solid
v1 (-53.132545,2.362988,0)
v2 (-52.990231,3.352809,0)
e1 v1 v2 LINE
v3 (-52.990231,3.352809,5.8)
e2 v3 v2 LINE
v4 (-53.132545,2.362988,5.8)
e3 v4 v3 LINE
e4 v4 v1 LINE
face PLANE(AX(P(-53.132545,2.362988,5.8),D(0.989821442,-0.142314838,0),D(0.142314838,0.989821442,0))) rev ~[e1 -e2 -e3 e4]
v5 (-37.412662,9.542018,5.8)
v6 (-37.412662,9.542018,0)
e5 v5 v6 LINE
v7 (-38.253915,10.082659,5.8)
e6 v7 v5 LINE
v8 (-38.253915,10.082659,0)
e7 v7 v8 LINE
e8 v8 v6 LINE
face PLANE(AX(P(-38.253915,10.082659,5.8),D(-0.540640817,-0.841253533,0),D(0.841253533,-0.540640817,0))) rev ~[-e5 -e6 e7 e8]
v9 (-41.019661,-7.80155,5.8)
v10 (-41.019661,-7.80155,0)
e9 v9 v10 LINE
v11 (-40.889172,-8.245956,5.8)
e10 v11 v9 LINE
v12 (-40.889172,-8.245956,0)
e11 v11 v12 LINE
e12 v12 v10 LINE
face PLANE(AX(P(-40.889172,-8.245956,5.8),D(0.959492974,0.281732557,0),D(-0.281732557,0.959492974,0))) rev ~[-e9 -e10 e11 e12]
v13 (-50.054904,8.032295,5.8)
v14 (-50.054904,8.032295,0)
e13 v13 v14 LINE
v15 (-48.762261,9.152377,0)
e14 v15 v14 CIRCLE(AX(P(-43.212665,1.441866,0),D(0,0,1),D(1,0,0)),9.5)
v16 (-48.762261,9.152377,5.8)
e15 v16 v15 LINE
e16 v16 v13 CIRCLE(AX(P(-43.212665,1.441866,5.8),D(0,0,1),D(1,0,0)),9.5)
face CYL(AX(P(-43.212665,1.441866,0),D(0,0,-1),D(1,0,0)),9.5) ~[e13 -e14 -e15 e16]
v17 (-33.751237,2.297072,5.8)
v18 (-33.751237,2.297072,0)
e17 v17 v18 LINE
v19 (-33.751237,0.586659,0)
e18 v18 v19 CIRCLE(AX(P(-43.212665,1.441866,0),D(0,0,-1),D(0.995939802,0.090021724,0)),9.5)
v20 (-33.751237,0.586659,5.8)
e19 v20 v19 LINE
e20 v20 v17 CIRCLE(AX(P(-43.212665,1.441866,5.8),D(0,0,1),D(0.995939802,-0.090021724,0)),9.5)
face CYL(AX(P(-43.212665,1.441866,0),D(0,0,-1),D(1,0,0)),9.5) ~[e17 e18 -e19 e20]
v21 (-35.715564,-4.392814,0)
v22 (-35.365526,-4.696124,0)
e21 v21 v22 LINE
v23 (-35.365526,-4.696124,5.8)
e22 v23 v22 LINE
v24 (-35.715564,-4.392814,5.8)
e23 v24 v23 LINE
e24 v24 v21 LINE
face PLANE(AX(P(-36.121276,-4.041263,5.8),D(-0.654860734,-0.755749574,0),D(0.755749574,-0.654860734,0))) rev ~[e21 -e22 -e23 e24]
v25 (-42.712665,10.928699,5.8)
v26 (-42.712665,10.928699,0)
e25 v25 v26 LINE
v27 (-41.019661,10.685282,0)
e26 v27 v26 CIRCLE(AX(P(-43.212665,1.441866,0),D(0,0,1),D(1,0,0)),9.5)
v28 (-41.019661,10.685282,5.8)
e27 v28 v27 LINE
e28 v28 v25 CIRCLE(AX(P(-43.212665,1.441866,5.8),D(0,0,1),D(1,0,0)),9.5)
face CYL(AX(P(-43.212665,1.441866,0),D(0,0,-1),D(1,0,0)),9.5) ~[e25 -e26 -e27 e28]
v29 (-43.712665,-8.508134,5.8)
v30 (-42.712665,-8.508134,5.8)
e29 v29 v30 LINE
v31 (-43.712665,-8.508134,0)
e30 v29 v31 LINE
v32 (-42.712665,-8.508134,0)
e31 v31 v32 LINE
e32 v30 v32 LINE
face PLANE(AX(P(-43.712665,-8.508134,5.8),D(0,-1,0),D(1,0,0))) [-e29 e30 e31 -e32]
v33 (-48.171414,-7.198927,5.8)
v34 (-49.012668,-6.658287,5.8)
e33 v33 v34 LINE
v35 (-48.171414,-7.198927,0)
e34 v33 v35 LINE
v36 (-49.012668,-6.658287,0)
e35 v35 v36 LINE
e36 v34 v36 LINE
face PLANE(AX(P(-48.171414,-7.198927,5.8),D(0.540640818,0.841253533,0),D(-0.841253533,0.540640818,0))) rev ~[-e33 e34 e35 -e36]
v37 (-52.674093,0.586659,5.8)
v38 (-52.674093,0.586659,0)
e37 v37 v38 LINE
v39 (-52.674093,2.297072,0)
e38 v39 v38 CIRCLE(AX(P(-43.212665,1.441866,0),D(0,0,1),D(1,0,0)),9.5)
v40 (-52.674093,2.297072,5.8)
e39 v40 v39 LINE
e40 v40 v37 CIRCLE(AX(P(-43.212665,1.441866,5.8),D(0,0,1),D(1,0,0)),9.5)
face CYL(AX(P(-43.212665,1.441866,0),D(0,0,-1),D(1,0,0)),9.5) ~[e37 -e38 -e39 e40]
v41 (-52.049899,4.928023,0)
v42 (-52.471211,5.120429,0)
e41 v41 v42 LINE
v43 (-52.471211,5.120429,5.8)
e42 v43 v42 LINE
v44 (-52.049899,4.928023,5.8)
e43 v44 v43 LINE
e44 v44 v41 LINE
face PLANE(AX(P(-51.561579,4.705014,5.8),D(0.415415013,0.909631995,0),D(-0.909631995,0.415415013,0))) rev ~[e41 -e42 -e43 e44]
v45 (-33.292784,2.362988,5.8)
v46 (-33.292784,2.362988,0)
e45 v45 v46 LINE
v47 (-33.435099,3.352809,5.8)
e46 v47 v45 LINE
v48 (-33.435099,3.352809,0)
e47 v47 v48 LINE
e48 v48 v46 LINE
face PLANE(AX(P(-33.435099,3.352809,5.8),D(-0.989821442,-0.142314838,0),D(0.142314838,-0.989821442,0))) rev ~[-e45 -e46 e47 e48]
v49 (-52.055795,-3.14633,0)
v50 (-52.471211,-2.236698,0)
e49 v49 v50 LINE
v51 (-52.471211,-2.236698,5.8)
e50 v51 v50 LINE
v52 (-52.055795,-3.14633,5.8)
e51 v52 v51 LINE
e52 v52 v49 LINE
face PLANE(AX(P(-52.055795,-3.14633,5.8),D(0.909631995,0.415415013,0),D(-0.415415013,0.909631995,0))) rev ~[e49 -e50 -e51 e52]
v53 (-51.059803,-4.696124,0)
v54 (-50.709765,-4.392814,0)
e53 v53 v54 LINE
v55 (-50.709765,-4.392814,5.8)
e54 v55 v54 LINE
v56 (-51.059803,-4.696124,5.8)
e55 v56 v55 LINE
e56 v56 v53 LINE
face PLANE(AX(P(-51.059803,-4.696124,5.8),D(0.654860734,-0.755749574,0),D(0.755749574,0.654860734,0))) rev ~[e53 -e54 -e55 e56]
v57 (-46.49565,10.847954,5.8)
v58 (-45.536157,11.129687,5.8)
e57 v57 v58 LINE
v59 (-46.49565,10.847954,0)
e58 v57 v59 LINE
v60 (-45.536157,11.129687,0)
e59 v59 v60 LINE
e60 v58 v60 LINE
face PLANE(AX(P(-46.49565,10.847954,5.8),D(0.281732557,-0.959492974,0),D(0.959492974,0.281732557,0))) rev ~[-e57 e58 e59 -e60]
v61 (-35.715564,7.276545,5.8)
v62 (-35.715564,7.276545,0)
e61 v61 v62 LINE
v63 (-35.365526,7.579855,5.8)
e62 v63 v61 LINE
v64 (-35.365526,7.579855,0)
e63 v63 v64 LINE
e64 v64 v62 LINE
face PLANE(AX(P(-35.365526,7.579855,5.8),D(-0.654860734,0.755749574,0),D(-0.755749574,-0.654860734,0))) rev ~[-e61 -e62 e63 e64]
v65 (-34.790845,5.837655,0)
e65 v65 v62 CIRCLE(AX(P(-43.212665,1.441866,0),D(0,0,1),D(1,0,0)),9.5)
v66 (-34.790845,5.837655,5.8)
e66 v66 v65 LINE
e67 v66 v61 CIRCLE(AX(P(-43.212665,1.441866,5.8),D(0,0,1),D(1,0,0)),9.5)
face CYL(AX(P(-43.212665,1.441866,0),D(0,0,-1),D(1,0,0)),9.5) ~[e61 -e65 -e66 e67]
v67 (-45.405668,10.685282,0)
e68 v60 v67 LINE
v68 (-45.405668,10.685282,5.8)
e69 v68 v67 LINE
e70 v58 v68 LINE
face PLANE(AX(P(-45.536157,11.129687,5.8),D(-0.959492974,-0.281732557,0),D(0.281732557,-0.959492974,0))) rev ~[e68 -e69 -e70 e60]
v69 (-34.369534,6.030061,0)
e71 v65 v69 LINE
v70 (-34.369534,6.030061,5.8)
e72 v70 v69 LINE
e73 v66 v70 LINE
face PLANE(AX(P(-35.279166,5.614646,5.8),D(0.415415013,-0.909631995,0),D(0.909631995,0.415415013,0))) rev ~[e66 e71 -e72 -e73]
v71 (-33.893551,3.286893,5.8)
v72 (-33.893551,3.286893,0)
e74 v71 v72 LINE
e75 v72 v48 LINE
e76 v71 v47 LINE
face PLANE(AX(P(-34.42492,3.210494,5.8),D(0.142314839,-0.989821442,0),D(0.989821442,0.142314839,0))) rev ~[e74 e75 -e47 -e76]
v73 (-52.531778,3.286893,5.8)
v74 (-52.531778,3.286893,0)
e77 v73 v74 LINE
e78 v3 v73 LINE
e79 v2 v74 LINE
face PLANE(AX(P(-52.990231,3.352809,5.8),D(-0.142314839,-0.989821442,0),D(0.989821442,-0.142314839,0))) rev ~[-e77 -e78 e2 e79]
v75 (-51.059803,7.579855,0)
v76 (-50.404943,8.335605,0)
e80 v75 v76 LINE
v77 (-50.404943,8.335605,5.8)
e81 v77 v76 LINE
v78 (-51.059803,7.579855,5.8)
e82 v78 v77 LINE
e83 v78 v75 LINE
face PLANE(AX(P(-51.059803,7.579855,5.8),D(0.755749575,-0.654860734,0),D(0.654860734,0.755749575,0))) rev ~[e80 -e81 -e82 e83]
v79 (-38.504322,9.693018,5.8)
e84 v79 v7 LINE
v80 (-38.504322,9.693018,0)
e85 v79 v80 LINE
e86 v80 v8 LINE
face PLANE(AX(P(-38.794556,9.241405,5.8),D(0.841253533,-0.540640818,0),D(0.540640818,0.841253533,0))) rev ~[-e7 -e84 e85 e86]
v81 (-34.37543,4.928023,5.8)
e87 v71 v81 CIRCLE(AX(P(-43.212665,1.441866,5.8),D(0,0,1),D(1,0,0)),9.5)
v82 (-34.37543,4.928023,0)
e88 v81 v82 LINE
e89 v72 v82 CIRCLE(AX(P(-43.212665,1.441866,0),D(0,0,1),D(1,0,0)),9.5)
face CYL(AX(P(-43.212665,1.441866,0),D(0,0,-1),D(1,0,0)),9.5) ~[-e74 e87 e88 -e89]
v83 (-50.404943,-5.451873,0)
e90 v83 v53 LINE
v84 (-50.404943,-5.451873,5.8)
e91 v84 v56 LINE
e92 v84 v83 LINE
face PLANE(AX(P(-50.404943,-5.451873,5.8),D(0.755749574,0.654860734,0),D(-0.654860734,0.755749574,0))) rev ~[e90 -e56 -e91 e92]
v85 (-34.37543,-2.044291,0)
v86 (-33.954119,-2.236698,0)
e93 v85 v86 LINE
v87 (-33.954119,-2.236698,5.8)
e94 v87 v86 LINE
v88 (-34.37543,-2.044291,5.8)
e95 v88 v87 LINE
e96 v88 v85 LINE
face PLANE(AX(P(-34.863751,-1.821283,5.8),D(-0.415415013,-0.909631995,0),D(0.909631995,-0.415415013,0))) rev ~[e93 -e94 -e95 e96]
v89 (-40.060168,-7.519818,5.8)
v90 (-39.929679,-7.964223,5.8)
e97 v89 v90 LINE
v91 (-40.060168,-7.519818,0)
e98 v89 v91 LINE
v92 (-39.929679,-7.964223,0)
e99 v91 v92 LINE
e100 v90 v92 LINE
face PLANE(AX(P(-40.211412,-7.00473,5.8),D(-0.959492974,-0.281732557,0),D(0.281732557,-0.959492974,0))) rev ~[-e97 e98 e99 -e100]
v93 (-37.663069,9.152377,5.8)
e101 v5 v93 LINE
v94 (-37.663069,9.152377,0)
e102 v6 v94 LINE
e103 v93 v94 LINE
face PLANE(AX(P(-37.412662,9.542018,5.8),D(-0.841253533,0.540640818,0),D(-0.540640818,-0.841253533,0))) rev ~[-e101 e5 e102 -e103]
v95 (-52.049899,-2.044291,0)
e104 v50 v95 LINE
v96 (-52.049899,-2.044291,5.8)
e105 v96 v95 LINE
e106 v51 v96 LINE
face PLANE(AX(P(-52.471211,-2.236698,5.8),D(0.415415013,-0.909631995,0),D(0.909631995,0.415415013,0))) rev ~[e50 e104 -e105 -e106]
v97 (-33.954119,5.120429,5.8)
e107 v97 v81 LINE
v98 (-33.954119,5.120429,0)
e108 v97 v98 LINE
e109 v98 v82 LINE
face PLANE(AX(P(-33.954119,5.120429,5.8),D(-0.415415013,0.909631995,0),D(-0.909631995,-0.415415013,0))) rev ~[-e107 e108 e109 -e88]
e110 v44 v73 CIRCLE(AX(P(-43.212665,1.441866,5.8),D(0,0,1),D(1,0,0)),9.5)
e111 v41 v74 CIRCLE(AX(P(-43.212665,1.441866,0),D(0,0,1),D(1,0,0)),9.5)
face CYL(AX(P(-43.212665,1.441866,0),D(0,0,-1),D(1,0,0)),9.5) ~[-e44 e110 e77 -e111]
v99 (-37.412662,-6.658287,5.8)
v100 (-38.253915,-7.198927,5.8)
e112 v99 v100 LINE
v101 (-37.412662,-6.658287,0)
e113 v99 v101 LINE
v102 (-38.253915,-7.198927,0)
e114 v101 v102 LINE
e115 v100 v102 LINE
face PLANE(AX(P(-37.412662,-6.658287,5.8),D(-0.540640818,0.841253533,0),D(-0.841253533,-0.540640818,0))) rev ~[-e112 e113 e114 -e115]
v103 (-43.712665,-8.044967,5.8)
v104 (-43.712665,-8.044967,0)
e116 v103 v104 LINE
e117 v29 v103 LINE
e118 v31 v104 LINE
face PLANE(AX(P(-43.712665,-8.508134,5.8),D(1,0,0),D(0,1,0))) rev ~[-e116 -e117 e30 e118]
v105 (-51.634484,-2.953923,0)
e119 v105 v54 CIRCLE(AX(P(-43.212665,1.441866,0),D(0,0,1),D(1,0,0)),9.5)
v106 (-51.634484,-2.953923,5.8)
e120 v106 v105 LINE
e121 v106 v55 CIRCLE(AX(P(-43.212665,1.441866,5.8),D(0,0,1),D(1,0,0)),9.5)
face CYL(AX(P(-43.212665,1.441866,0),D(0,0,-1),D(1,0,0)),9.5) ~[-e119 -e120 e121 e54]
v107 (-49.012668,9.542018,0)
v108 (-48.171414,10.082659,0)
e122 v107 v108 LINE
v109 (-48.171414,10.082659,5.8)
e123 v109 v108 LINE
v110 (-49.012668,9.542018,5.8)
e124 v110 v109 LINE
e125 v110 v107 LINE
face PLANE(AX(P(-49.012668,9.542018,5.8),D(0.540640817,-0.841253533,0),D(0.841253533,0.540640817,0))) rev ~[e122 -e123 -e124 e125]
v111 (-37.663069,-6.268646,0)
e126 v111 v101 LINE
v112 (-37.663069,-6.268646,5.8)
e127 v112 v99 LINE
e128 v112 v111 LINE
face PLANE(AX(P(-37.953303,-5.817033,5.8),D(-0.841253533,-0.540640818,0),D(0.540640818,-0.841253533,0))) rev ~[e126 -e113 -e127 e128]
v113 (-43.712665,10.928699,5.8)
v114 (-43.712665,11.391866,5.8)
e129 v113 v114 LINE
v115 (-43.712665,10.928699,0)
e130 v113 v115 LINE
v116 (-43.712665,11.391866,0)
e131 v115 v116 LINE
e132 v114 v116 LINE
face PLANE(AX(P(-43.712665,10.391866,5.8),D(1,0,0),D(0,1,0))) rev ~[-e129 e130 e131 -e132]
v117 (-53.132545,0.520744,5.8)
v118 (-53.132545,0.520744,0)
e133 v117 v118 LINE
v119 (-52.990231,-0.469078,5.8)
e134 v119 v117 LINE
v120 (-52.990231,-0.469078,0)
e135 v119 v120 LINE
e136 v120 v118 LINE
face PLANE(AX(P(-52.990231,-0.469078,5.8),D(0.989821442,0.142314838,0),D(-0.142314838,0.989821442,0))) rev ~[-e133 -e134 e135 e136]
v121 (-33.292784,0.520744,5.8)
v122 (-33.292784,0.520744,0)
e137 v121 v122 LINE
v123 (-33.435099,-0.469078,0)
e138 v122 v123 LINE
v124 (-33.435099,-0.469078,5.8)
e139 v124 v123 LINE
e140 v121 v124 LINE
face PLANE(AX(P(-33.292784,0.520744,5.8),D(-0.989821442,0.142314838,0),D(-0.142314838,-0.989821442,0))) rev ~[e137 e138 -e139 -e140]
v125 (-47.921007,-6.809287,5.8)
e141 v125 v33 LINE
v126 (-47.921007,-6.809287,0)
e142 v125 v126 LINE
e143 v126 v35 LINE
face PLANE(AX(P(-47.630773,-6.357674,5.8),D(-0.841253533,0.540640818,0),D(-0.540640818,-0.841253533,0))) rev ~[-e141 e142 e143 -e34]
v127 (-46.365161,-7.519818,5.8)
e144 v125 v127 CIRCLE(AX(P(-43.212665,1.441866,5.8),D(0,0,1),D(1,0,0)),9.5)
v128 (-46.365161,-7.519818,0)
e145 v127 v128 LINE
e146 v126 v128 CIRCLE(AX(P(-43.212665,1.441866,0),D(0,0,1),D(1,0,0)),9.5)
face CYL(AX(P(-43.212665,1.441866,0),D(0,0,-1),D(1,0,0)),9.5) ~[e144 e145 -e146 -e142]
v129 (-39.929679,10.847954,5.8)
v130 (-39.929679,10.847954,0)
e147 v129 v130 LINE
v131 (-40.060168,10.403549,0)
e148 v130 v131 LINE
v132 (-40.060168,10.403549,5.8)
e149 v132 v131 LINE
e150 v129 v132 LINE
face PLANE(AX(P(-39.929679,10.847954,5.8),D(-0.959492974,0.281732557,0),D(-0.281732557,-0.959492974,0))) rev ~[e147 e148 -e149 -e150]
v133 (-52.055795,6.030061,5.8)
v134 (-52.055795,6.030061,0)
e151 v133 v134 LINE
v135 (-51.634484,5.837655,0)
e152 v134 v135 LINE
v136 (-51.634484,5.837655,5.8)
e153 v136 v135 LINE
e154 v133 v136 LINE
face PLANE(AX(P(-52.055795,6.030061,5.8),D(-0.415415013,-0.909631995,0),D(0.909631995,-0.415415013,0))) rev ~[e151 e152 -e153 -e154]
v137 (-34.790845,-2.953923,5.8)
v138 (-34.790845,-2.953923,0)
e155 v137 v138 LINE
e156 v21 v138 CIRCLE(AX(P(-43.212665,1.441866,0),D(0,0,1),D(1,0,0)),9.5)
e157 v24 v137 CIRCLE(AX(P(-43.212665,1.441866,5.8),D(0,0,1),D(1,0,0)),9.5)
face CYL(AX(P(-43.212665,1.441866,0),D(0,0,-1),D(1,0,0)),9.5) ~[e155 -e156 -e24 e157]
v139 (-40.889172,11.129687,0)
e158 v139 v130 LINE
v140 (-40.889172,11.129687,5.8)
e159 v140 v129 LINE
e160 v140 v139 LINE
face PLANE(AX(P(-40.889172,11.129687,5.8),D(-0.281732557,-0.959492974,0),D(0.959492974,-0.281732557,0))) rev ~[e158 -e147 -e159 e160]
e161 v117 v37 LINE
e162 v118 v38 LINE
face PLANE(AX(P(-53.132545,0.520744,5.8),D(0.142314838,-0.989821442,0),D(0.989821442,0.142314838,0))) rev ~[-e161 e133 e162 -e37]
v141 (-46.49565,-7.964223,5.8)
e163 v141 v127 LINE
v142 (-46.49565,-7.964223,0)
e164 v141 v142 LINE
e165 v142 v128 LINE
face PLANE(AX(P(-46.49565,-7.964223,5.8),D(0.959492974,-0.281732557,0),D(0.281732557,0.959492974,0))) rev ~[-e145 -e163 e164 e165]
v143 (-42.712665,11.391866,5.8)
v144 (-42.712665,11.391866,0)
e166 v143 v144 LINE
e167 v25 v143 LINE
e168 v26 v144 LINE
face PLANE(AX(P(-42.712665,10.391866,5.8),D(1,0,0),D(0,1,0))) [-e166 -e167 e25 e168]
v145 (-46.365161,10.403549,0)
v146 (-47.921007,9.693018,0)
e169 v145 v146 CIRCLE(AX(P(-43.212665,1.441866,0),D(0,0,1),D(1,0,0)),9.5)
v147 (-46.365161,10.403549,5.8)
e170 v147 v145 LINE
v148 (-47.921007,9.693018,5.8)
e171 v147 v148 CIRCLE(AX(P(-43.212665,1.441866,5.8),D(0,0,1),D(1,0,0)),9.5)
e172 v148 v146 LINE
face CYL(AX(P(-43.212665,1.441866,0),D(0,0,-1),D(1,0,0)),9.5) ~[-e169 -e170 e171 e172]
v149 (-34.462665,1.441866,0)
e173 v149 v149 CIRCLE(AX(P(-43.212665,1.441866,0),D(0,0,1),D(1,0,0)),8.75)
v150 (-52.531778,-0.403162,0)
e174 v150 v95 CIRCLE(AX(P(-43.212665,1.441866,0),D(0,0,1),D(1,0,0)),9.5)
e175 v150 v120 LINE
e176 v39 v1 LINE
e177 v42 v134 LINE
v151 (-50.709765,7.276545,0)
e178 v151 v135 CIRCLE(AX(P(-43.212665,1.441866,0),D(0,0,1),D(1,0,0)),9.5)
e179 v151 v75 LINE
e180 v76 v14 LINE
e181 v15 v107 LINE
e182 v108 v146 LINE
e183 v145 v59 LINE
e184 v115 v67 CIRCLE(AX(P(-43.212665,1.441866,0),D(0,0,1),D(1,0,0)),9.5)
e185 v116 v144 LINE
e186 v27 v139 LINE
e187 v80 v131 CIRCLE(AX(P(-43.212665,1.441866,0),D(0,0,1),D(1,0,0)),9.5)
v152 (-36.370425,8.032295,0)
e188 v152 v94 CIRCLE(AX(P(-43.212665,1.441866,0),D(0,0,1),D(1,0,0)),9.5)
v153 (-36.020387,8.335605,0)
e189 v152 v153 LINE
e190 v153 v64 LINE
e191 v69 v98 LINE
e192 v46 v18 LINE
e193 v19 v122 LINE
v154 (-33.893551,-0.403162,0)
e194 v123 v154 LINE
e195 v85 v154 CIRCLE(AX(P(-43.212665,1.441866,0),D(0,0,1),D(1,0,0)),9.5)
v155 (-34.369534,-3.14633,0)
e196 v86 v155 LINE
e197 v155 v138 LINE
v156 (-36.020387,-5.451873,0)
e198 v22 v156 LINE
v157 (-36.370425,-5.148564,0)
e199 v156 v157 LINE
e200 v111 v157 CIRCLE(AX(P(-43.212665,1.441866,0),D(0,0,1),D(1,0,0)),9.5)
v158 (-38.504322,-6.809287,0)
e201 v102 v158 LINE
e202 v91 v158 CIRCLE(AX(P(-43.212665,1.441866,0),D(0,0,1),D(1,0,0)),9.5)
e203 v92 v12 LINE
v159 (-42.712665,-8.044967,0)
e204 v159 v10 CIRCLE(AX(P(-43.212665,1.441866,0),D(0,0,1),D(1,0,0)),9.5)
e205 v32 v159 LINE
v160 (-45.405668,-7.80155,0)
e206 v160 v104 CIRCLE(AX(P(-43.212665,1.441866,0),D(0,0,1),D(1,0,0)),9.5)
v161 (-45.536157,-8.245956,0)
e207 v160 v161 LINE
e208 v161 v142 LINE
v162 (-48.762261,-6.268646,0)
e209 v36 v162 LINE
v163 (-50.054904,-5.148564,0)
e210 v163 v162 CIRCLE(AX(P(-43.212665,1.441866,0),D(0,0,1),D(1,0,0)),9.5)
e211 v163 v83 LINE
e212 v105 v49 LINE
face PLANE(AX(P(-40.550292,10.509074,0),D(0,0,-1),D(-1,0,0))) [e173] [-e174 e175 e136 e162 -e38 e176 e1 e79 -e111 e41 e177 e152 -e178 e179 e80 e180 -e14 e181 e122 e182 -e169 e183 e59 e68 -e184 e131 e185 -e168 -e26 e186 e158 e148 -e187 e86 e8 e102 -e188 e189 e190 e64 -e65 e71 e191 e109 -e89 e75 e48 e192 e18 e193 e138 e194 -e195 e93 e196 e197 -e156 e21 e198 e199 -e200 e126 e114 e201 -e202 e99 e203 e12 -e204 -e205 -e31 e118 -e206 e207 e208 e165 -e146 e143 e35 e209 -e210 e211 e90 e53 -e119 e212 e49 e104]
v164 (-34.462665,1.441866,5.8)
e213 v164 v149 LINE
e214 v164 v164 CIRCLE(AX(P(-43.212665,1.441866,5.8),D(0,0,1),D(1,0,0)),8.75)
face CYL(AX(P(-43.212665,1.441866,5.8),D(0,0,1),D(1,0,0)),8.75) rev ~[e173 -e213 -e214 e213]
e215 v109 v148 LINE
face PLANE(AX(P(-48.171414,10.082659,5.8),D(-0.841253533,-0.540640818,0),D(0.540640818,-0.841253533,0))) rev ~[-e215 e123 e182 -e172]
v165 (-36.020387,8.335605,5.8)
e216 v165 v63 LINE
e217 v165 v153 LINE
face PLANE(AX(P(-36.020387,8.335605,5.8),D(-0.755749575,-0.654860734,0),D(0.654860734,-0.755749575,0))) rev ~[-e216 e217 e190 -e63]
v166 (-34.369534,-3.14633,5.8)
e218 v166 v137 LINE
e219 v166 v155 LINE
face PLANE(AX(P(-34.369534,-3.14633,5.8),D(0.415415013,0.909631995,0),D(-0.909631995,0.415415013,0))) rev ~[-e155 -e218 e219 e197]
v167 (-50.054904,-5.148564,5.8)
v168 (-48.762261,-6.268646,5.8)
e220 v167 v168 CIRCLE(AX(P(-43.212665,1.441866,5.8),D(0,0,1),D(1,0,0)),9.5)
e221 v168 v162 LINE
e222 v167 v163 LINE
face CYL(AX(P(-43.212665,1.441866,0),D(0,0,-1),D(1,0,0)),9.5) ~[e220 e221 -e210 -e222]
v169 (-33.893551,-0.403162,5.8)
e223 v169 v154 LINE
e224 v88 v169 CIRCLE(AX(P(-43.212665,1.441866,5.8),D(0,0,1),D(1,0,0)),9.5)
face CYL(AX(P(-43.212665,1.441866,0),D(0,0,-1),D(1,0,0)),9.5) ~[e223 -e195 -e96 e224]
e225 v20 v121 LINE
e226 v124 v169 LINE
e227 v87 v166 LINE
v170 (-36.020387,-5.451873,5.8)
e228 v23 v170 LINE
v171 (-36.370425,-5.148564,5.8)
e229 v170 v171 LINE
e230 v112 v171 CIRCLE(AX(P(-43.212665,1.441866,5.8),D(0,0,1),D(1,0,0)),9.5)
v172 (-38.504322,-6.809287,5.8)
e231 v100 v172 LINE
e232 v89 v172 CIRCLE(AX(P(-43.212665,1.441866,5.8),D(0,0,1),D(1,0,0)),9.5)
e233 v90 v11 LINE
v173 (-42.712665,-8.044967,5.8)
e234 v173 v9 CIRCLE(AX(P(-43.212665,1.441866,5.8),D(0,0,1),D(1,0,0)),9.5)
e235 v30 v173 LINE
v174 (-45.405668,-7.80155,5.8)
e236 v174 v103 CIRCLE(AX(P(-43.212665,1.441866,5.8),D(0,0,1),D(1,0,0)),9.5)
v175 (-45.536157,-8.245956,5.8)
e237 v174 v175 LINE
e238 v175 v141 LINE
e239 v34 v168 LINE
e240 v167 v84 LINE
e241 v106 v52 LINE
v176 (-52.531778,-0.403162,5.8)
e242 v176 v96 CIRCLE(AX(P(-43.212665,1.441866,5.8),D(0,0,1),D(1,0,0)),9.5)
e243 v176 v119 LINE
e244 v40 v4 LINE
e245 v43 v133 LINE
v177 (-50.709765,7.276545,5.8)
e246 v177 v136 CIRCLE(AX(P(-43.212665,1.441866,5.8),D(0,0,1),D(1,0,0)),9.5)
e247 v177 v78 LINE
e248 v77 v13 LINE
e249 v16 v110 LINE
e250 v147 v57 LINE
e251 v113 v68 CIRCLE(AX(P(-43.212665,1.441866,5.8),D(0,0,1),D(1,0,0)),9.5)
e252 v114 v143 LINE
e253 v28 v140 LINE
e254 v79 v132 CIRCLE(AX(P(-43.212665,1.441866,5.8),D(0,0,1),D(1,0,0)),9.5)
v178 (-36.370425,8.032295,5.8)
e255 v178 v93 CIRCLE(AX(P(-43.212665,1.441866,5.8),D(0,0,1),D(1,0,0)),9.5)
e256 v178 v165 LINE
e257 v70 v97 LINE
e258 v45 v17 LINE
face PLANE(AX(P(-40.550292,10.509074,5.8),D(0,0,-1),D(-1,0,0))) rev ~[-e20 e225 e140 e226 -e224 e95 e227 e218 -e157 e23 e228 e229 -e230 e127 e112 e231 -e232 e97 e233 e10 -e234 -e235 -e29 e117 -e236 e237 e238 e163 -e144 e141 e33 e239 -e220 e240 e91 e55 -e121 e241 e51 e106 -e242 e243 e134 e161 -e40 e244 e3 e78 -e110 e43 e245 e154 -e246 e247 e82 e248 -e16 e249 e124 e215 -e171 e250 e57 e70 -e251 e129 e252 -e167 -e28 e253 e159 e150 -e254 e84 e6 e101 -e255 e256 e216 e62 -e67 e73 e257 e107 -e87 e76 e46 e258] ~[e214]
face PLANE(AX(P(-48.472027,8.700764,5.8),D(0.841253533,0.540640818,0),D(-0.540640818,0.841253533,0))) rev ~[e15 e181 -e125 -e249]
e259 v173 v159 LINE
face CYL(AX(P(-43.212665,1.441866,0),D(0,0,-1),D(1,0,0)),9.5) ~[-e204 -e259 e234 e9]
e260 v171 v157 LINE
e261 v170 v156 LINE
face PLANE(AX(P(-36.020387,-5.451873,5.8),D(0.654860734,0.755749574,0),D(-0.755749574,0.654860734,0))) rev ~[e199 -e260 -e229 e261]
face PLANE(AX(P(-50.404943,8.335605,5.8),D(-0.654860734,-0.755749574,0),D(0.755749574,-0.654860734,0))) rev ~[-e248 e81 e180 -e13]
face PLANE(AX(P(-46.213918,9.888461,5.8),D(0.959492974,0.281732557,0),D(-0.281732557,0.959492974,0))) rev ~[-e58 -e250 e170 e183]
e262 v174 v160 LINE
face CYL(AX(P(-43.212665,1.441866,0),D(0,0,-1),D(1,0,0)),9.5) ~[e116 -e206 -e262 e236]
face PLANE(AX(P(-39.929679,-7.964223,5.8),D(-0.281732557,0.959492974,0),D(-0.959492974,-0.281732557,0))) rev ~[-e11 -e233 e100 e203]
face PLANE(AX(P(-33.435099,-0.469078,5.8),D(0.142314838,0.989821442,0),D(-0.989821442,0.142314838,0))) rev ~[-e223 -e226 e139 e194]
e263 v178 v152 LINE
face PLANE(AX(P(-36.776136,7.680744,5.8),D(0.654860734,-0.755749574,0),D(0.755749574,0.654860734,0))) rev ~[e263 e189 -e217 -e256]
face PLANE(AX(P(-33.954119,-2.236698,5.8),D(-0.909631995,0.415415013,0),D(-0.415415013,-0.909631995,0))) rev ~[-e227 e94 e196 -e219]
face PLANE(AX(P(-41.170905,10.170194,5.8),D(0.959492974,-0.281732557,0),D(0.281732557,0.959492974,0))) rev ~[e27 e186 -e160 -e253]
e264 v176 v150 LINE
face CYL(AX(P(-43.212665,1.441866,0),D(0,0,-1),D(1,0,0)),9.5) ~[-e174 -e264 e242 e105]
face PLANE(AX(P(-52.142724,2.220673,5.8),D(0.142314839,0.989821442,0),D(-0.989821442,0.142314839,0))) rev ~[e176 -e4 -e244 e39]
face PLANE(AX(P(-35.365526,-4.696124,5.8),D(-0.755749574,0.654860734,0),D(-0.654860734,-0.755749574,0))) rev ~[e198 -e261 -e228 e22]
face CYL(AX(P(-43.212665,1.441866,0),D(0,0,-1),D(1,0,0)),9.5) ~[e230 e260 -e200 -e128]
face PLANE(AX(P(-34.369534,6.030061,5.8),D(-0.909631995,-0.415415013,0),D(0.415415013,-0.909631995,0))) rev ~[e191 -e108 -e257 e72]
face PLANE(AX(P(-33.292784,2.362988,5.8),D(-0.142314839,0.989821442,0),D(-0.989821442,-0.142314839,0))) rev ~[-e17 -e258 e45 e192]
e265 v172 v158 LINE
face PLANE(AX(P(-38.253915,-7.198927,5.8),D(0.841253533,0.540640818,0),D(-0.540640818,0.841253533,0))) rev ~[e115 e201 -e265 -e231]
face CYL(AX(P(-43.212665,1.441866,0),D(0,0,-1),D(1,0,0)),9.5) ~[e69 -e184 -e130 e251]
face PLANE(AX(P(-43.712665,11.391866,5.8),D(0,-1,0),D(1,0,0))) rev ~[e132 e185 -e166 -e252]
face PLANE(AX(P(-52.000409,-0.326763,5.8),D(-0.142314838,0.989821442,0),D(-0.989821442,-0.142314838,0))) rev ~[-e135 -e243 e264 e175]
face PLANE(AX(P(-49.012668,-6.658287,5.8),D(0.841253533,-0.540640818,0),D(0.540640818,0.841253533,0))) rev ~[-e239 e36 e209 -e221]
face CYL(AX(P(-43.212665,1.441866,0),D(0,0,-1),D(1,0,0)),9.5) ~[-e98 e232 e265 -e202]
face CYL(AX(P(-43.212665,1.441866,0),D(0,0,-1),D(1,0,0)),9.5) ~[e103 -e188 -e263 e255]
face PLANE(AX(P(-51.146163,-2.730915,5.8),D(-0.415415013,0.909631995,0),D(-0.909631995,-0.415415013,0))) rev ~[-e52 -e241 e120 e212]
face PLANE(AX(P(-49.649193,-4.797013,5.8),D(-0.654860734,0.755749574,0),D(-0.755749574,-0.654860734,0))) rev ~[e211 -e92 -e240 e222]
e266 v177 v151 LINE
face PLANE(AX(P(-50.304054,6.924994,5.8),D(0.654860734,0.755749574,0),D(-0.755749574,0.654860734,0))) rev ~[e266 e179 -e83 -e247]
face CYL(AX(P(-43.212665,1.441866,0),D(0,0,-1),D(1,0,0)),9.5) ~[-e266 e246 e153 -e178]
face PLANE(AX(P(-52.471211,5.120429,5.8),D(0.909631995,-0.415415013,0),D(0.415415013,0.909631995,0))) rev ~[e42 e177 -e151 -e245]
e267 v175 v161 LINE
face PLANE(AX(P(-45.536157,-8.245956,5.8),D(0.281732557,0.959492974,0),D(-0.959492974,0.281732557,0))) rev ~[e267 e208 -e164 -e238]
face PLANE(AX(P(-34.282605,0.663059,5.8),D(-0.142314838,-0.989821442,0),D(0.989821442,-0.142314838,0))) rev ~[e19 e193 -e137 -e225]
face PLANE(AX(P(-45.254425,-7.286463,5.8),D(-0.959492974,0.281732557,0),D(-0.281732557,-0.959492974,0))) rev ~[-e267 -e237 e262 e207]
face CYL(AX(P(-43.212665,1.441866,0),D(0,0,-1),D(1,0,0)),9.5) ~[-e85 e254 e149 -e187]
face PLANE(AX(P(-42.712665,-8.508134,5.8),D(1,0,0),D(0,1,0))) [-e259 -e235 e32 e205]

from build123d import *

# Parameters (mm, degrees)
SKETCH1_R           = 9.5
BOSS_EXTRUDE1_DEPTH = 5.8
SKETCH2_R           = 8.75
CUT_EXTRUDE1_DEPTH  = 5.8
SKETCH3_W           = 1
SKETCH3_H           = 1
BOSS_EXTRUDE2_DEPTH = 5.8


with BuildPart() as part:
    # Sketch1 → Boss-Extrude1 (new body)
    with BuildSketch(Plane.XY):
        with Locations((-43.212664647, 1.441865661)):
            Circle(SKETCH1_R)
    extrude(amount=BOSS_EXTRUDE1_DEPTH)

    # Sketch2 → Cut-Extrude1 (cut)
    with BuildSketch(Plane.XY.offset(5.8)):
        with Locations((-43.212664647, 1.441865661)):
            Circle(SKETCH2_R)
    extrude(amount=-CUT_EXTRUDE1_DEPTH, mode=Mode.SUBTRACT)

    # Sketch3 → Boss-Extrude2 (add)
    with BuildSketch(Plane.XY.offset(5.8)):
        Polygon((-40.889172194, 11.129687027), (-39.92967922, 10.84795447), (-40.211411777, 9.888461496), (-41.170904751, 10.170194053), align=None)
        with Locations((-43.212664647, 10.891865661)):
            Rectangle(SKETCH3_W, SKETCH3_H)
        Polygon((-38.25391528, 10.082658721), (-37.412661747, 9.542017904), (-37.953302565, 8.700764371), (-38.794556098, 9.241405188), align=None)
        Polygon((-36.02038675, 8.335604751), (-35.365526016, 7.579855176), (-36.12127559, 6.924994442), (-36.776136324, 7.680744017), align=None)
        Polygon((-34.3695338, 6.030061038), (-33.954118787, 5.120429043), (-34.863750783, 4.70501403), (-35.279165796, 5.614646025), align=None)
        Polygon((-33.43509872, 3.352809023), (-33.292783882, 2.362987581), (-34.282605324, 2.220672742), (-34.424920162, 3.210494184), align=None)
        Polygon((-33.292783882, 0.520743741), (-33.43509872, -0.469077701), (-34.424920162, -0.326762863), (-34.282605324, 0.663058579), align=None)
        Polygon((-33.954118787, -2.236697721), (-34.3695338, -3.146329716), (-35.279165796, -2.730914703), (-34.863750783, -1.821282708), align=None)
        Polygon((-35.365526016, -4.696123855), (-36.02038675, -5.451873429), (-36.776136324, -4.797012695), (-36.12127559, -4.041263121), align=None)
        Polygon((-37.412661747, -6.658286582), (-38.25391528, -7.1989274), (-38.794556098, -6.357673867), (-37.953302565, -5.817033049), align=None)
        Polygon((-39.92967922, -7.964223148), (-40.889172194, -8.245955705), (-41.170904751, -7.286462731), (-40.211411777, -7.004730175), align=None)
        with Locations((-43.212664647, -8.008134339)):
            Rectangle(SKETCH3_W, SKETCH3_H)
        Polygon((-45.536157101, -8.245955705), (-46.495650075, -7.964223148), (-46.213917518, -7.004730175), (-45.254424544, -7.286462731), align=None)
        Polygon((-48.171414015, -7.1989274), (-49.012667548, -6.658286582), (-48.47202673, -5.817033049), (-47.630773197, -6.357673867), align=None)
        Polygon((-50.404942545, -5.451873429), (-51.059803279, -4.696123855), (-50.304053705, -4.041263121), (-49.649192971, -4.797012695), align=None)
        Polygon((-52.055795495, -3.146329716), (-52.471210508, -2.236697721), (-51.561578512, -1.821282708), (-51.146163499, -2.730914703), align=None)
        Polygon((-52.990230575, -0.469077701), (-53.132545413, 0.520743741), (-52.142723971, 0.663058579), (-52.000409133, -0.326762863), align=None)
        Polygon((-53.132545413, 2.362987581), (-52.990230575, 3.352809023), (-52.000409133, 3.210494184), (-52.142723971, 2.220672742), align=None)
        Polygon((-52.471210508, 5.120429043), (-52.055795495, 6.030061038), (-51.146163499, 5.614646025), (-51.561578512, 4.70501403), align=None)
        Polygon((-51.059803279, 7.579855176), (-50.404942545, 8.335604751), (-49.649192971, 7.680744017), (-50.304053705, 6.924994442), align=None)
        Polygon((-49.012667548, 9.542017904), (-48.171414015, 10.082658721), (-47.630773197, 9.241405188), (-48.47202673, 8.700764371), align=None)
        Polygon((-46.495650075, 10.84795447), (-45.536157101, 11.129687027), (-45.254424544, 10.170194053), (-46.213917518, 9.888461496), align=None)
    extrude(amount=-BOSS_EXTRUDE2_DEPTH)


solid = part.part
